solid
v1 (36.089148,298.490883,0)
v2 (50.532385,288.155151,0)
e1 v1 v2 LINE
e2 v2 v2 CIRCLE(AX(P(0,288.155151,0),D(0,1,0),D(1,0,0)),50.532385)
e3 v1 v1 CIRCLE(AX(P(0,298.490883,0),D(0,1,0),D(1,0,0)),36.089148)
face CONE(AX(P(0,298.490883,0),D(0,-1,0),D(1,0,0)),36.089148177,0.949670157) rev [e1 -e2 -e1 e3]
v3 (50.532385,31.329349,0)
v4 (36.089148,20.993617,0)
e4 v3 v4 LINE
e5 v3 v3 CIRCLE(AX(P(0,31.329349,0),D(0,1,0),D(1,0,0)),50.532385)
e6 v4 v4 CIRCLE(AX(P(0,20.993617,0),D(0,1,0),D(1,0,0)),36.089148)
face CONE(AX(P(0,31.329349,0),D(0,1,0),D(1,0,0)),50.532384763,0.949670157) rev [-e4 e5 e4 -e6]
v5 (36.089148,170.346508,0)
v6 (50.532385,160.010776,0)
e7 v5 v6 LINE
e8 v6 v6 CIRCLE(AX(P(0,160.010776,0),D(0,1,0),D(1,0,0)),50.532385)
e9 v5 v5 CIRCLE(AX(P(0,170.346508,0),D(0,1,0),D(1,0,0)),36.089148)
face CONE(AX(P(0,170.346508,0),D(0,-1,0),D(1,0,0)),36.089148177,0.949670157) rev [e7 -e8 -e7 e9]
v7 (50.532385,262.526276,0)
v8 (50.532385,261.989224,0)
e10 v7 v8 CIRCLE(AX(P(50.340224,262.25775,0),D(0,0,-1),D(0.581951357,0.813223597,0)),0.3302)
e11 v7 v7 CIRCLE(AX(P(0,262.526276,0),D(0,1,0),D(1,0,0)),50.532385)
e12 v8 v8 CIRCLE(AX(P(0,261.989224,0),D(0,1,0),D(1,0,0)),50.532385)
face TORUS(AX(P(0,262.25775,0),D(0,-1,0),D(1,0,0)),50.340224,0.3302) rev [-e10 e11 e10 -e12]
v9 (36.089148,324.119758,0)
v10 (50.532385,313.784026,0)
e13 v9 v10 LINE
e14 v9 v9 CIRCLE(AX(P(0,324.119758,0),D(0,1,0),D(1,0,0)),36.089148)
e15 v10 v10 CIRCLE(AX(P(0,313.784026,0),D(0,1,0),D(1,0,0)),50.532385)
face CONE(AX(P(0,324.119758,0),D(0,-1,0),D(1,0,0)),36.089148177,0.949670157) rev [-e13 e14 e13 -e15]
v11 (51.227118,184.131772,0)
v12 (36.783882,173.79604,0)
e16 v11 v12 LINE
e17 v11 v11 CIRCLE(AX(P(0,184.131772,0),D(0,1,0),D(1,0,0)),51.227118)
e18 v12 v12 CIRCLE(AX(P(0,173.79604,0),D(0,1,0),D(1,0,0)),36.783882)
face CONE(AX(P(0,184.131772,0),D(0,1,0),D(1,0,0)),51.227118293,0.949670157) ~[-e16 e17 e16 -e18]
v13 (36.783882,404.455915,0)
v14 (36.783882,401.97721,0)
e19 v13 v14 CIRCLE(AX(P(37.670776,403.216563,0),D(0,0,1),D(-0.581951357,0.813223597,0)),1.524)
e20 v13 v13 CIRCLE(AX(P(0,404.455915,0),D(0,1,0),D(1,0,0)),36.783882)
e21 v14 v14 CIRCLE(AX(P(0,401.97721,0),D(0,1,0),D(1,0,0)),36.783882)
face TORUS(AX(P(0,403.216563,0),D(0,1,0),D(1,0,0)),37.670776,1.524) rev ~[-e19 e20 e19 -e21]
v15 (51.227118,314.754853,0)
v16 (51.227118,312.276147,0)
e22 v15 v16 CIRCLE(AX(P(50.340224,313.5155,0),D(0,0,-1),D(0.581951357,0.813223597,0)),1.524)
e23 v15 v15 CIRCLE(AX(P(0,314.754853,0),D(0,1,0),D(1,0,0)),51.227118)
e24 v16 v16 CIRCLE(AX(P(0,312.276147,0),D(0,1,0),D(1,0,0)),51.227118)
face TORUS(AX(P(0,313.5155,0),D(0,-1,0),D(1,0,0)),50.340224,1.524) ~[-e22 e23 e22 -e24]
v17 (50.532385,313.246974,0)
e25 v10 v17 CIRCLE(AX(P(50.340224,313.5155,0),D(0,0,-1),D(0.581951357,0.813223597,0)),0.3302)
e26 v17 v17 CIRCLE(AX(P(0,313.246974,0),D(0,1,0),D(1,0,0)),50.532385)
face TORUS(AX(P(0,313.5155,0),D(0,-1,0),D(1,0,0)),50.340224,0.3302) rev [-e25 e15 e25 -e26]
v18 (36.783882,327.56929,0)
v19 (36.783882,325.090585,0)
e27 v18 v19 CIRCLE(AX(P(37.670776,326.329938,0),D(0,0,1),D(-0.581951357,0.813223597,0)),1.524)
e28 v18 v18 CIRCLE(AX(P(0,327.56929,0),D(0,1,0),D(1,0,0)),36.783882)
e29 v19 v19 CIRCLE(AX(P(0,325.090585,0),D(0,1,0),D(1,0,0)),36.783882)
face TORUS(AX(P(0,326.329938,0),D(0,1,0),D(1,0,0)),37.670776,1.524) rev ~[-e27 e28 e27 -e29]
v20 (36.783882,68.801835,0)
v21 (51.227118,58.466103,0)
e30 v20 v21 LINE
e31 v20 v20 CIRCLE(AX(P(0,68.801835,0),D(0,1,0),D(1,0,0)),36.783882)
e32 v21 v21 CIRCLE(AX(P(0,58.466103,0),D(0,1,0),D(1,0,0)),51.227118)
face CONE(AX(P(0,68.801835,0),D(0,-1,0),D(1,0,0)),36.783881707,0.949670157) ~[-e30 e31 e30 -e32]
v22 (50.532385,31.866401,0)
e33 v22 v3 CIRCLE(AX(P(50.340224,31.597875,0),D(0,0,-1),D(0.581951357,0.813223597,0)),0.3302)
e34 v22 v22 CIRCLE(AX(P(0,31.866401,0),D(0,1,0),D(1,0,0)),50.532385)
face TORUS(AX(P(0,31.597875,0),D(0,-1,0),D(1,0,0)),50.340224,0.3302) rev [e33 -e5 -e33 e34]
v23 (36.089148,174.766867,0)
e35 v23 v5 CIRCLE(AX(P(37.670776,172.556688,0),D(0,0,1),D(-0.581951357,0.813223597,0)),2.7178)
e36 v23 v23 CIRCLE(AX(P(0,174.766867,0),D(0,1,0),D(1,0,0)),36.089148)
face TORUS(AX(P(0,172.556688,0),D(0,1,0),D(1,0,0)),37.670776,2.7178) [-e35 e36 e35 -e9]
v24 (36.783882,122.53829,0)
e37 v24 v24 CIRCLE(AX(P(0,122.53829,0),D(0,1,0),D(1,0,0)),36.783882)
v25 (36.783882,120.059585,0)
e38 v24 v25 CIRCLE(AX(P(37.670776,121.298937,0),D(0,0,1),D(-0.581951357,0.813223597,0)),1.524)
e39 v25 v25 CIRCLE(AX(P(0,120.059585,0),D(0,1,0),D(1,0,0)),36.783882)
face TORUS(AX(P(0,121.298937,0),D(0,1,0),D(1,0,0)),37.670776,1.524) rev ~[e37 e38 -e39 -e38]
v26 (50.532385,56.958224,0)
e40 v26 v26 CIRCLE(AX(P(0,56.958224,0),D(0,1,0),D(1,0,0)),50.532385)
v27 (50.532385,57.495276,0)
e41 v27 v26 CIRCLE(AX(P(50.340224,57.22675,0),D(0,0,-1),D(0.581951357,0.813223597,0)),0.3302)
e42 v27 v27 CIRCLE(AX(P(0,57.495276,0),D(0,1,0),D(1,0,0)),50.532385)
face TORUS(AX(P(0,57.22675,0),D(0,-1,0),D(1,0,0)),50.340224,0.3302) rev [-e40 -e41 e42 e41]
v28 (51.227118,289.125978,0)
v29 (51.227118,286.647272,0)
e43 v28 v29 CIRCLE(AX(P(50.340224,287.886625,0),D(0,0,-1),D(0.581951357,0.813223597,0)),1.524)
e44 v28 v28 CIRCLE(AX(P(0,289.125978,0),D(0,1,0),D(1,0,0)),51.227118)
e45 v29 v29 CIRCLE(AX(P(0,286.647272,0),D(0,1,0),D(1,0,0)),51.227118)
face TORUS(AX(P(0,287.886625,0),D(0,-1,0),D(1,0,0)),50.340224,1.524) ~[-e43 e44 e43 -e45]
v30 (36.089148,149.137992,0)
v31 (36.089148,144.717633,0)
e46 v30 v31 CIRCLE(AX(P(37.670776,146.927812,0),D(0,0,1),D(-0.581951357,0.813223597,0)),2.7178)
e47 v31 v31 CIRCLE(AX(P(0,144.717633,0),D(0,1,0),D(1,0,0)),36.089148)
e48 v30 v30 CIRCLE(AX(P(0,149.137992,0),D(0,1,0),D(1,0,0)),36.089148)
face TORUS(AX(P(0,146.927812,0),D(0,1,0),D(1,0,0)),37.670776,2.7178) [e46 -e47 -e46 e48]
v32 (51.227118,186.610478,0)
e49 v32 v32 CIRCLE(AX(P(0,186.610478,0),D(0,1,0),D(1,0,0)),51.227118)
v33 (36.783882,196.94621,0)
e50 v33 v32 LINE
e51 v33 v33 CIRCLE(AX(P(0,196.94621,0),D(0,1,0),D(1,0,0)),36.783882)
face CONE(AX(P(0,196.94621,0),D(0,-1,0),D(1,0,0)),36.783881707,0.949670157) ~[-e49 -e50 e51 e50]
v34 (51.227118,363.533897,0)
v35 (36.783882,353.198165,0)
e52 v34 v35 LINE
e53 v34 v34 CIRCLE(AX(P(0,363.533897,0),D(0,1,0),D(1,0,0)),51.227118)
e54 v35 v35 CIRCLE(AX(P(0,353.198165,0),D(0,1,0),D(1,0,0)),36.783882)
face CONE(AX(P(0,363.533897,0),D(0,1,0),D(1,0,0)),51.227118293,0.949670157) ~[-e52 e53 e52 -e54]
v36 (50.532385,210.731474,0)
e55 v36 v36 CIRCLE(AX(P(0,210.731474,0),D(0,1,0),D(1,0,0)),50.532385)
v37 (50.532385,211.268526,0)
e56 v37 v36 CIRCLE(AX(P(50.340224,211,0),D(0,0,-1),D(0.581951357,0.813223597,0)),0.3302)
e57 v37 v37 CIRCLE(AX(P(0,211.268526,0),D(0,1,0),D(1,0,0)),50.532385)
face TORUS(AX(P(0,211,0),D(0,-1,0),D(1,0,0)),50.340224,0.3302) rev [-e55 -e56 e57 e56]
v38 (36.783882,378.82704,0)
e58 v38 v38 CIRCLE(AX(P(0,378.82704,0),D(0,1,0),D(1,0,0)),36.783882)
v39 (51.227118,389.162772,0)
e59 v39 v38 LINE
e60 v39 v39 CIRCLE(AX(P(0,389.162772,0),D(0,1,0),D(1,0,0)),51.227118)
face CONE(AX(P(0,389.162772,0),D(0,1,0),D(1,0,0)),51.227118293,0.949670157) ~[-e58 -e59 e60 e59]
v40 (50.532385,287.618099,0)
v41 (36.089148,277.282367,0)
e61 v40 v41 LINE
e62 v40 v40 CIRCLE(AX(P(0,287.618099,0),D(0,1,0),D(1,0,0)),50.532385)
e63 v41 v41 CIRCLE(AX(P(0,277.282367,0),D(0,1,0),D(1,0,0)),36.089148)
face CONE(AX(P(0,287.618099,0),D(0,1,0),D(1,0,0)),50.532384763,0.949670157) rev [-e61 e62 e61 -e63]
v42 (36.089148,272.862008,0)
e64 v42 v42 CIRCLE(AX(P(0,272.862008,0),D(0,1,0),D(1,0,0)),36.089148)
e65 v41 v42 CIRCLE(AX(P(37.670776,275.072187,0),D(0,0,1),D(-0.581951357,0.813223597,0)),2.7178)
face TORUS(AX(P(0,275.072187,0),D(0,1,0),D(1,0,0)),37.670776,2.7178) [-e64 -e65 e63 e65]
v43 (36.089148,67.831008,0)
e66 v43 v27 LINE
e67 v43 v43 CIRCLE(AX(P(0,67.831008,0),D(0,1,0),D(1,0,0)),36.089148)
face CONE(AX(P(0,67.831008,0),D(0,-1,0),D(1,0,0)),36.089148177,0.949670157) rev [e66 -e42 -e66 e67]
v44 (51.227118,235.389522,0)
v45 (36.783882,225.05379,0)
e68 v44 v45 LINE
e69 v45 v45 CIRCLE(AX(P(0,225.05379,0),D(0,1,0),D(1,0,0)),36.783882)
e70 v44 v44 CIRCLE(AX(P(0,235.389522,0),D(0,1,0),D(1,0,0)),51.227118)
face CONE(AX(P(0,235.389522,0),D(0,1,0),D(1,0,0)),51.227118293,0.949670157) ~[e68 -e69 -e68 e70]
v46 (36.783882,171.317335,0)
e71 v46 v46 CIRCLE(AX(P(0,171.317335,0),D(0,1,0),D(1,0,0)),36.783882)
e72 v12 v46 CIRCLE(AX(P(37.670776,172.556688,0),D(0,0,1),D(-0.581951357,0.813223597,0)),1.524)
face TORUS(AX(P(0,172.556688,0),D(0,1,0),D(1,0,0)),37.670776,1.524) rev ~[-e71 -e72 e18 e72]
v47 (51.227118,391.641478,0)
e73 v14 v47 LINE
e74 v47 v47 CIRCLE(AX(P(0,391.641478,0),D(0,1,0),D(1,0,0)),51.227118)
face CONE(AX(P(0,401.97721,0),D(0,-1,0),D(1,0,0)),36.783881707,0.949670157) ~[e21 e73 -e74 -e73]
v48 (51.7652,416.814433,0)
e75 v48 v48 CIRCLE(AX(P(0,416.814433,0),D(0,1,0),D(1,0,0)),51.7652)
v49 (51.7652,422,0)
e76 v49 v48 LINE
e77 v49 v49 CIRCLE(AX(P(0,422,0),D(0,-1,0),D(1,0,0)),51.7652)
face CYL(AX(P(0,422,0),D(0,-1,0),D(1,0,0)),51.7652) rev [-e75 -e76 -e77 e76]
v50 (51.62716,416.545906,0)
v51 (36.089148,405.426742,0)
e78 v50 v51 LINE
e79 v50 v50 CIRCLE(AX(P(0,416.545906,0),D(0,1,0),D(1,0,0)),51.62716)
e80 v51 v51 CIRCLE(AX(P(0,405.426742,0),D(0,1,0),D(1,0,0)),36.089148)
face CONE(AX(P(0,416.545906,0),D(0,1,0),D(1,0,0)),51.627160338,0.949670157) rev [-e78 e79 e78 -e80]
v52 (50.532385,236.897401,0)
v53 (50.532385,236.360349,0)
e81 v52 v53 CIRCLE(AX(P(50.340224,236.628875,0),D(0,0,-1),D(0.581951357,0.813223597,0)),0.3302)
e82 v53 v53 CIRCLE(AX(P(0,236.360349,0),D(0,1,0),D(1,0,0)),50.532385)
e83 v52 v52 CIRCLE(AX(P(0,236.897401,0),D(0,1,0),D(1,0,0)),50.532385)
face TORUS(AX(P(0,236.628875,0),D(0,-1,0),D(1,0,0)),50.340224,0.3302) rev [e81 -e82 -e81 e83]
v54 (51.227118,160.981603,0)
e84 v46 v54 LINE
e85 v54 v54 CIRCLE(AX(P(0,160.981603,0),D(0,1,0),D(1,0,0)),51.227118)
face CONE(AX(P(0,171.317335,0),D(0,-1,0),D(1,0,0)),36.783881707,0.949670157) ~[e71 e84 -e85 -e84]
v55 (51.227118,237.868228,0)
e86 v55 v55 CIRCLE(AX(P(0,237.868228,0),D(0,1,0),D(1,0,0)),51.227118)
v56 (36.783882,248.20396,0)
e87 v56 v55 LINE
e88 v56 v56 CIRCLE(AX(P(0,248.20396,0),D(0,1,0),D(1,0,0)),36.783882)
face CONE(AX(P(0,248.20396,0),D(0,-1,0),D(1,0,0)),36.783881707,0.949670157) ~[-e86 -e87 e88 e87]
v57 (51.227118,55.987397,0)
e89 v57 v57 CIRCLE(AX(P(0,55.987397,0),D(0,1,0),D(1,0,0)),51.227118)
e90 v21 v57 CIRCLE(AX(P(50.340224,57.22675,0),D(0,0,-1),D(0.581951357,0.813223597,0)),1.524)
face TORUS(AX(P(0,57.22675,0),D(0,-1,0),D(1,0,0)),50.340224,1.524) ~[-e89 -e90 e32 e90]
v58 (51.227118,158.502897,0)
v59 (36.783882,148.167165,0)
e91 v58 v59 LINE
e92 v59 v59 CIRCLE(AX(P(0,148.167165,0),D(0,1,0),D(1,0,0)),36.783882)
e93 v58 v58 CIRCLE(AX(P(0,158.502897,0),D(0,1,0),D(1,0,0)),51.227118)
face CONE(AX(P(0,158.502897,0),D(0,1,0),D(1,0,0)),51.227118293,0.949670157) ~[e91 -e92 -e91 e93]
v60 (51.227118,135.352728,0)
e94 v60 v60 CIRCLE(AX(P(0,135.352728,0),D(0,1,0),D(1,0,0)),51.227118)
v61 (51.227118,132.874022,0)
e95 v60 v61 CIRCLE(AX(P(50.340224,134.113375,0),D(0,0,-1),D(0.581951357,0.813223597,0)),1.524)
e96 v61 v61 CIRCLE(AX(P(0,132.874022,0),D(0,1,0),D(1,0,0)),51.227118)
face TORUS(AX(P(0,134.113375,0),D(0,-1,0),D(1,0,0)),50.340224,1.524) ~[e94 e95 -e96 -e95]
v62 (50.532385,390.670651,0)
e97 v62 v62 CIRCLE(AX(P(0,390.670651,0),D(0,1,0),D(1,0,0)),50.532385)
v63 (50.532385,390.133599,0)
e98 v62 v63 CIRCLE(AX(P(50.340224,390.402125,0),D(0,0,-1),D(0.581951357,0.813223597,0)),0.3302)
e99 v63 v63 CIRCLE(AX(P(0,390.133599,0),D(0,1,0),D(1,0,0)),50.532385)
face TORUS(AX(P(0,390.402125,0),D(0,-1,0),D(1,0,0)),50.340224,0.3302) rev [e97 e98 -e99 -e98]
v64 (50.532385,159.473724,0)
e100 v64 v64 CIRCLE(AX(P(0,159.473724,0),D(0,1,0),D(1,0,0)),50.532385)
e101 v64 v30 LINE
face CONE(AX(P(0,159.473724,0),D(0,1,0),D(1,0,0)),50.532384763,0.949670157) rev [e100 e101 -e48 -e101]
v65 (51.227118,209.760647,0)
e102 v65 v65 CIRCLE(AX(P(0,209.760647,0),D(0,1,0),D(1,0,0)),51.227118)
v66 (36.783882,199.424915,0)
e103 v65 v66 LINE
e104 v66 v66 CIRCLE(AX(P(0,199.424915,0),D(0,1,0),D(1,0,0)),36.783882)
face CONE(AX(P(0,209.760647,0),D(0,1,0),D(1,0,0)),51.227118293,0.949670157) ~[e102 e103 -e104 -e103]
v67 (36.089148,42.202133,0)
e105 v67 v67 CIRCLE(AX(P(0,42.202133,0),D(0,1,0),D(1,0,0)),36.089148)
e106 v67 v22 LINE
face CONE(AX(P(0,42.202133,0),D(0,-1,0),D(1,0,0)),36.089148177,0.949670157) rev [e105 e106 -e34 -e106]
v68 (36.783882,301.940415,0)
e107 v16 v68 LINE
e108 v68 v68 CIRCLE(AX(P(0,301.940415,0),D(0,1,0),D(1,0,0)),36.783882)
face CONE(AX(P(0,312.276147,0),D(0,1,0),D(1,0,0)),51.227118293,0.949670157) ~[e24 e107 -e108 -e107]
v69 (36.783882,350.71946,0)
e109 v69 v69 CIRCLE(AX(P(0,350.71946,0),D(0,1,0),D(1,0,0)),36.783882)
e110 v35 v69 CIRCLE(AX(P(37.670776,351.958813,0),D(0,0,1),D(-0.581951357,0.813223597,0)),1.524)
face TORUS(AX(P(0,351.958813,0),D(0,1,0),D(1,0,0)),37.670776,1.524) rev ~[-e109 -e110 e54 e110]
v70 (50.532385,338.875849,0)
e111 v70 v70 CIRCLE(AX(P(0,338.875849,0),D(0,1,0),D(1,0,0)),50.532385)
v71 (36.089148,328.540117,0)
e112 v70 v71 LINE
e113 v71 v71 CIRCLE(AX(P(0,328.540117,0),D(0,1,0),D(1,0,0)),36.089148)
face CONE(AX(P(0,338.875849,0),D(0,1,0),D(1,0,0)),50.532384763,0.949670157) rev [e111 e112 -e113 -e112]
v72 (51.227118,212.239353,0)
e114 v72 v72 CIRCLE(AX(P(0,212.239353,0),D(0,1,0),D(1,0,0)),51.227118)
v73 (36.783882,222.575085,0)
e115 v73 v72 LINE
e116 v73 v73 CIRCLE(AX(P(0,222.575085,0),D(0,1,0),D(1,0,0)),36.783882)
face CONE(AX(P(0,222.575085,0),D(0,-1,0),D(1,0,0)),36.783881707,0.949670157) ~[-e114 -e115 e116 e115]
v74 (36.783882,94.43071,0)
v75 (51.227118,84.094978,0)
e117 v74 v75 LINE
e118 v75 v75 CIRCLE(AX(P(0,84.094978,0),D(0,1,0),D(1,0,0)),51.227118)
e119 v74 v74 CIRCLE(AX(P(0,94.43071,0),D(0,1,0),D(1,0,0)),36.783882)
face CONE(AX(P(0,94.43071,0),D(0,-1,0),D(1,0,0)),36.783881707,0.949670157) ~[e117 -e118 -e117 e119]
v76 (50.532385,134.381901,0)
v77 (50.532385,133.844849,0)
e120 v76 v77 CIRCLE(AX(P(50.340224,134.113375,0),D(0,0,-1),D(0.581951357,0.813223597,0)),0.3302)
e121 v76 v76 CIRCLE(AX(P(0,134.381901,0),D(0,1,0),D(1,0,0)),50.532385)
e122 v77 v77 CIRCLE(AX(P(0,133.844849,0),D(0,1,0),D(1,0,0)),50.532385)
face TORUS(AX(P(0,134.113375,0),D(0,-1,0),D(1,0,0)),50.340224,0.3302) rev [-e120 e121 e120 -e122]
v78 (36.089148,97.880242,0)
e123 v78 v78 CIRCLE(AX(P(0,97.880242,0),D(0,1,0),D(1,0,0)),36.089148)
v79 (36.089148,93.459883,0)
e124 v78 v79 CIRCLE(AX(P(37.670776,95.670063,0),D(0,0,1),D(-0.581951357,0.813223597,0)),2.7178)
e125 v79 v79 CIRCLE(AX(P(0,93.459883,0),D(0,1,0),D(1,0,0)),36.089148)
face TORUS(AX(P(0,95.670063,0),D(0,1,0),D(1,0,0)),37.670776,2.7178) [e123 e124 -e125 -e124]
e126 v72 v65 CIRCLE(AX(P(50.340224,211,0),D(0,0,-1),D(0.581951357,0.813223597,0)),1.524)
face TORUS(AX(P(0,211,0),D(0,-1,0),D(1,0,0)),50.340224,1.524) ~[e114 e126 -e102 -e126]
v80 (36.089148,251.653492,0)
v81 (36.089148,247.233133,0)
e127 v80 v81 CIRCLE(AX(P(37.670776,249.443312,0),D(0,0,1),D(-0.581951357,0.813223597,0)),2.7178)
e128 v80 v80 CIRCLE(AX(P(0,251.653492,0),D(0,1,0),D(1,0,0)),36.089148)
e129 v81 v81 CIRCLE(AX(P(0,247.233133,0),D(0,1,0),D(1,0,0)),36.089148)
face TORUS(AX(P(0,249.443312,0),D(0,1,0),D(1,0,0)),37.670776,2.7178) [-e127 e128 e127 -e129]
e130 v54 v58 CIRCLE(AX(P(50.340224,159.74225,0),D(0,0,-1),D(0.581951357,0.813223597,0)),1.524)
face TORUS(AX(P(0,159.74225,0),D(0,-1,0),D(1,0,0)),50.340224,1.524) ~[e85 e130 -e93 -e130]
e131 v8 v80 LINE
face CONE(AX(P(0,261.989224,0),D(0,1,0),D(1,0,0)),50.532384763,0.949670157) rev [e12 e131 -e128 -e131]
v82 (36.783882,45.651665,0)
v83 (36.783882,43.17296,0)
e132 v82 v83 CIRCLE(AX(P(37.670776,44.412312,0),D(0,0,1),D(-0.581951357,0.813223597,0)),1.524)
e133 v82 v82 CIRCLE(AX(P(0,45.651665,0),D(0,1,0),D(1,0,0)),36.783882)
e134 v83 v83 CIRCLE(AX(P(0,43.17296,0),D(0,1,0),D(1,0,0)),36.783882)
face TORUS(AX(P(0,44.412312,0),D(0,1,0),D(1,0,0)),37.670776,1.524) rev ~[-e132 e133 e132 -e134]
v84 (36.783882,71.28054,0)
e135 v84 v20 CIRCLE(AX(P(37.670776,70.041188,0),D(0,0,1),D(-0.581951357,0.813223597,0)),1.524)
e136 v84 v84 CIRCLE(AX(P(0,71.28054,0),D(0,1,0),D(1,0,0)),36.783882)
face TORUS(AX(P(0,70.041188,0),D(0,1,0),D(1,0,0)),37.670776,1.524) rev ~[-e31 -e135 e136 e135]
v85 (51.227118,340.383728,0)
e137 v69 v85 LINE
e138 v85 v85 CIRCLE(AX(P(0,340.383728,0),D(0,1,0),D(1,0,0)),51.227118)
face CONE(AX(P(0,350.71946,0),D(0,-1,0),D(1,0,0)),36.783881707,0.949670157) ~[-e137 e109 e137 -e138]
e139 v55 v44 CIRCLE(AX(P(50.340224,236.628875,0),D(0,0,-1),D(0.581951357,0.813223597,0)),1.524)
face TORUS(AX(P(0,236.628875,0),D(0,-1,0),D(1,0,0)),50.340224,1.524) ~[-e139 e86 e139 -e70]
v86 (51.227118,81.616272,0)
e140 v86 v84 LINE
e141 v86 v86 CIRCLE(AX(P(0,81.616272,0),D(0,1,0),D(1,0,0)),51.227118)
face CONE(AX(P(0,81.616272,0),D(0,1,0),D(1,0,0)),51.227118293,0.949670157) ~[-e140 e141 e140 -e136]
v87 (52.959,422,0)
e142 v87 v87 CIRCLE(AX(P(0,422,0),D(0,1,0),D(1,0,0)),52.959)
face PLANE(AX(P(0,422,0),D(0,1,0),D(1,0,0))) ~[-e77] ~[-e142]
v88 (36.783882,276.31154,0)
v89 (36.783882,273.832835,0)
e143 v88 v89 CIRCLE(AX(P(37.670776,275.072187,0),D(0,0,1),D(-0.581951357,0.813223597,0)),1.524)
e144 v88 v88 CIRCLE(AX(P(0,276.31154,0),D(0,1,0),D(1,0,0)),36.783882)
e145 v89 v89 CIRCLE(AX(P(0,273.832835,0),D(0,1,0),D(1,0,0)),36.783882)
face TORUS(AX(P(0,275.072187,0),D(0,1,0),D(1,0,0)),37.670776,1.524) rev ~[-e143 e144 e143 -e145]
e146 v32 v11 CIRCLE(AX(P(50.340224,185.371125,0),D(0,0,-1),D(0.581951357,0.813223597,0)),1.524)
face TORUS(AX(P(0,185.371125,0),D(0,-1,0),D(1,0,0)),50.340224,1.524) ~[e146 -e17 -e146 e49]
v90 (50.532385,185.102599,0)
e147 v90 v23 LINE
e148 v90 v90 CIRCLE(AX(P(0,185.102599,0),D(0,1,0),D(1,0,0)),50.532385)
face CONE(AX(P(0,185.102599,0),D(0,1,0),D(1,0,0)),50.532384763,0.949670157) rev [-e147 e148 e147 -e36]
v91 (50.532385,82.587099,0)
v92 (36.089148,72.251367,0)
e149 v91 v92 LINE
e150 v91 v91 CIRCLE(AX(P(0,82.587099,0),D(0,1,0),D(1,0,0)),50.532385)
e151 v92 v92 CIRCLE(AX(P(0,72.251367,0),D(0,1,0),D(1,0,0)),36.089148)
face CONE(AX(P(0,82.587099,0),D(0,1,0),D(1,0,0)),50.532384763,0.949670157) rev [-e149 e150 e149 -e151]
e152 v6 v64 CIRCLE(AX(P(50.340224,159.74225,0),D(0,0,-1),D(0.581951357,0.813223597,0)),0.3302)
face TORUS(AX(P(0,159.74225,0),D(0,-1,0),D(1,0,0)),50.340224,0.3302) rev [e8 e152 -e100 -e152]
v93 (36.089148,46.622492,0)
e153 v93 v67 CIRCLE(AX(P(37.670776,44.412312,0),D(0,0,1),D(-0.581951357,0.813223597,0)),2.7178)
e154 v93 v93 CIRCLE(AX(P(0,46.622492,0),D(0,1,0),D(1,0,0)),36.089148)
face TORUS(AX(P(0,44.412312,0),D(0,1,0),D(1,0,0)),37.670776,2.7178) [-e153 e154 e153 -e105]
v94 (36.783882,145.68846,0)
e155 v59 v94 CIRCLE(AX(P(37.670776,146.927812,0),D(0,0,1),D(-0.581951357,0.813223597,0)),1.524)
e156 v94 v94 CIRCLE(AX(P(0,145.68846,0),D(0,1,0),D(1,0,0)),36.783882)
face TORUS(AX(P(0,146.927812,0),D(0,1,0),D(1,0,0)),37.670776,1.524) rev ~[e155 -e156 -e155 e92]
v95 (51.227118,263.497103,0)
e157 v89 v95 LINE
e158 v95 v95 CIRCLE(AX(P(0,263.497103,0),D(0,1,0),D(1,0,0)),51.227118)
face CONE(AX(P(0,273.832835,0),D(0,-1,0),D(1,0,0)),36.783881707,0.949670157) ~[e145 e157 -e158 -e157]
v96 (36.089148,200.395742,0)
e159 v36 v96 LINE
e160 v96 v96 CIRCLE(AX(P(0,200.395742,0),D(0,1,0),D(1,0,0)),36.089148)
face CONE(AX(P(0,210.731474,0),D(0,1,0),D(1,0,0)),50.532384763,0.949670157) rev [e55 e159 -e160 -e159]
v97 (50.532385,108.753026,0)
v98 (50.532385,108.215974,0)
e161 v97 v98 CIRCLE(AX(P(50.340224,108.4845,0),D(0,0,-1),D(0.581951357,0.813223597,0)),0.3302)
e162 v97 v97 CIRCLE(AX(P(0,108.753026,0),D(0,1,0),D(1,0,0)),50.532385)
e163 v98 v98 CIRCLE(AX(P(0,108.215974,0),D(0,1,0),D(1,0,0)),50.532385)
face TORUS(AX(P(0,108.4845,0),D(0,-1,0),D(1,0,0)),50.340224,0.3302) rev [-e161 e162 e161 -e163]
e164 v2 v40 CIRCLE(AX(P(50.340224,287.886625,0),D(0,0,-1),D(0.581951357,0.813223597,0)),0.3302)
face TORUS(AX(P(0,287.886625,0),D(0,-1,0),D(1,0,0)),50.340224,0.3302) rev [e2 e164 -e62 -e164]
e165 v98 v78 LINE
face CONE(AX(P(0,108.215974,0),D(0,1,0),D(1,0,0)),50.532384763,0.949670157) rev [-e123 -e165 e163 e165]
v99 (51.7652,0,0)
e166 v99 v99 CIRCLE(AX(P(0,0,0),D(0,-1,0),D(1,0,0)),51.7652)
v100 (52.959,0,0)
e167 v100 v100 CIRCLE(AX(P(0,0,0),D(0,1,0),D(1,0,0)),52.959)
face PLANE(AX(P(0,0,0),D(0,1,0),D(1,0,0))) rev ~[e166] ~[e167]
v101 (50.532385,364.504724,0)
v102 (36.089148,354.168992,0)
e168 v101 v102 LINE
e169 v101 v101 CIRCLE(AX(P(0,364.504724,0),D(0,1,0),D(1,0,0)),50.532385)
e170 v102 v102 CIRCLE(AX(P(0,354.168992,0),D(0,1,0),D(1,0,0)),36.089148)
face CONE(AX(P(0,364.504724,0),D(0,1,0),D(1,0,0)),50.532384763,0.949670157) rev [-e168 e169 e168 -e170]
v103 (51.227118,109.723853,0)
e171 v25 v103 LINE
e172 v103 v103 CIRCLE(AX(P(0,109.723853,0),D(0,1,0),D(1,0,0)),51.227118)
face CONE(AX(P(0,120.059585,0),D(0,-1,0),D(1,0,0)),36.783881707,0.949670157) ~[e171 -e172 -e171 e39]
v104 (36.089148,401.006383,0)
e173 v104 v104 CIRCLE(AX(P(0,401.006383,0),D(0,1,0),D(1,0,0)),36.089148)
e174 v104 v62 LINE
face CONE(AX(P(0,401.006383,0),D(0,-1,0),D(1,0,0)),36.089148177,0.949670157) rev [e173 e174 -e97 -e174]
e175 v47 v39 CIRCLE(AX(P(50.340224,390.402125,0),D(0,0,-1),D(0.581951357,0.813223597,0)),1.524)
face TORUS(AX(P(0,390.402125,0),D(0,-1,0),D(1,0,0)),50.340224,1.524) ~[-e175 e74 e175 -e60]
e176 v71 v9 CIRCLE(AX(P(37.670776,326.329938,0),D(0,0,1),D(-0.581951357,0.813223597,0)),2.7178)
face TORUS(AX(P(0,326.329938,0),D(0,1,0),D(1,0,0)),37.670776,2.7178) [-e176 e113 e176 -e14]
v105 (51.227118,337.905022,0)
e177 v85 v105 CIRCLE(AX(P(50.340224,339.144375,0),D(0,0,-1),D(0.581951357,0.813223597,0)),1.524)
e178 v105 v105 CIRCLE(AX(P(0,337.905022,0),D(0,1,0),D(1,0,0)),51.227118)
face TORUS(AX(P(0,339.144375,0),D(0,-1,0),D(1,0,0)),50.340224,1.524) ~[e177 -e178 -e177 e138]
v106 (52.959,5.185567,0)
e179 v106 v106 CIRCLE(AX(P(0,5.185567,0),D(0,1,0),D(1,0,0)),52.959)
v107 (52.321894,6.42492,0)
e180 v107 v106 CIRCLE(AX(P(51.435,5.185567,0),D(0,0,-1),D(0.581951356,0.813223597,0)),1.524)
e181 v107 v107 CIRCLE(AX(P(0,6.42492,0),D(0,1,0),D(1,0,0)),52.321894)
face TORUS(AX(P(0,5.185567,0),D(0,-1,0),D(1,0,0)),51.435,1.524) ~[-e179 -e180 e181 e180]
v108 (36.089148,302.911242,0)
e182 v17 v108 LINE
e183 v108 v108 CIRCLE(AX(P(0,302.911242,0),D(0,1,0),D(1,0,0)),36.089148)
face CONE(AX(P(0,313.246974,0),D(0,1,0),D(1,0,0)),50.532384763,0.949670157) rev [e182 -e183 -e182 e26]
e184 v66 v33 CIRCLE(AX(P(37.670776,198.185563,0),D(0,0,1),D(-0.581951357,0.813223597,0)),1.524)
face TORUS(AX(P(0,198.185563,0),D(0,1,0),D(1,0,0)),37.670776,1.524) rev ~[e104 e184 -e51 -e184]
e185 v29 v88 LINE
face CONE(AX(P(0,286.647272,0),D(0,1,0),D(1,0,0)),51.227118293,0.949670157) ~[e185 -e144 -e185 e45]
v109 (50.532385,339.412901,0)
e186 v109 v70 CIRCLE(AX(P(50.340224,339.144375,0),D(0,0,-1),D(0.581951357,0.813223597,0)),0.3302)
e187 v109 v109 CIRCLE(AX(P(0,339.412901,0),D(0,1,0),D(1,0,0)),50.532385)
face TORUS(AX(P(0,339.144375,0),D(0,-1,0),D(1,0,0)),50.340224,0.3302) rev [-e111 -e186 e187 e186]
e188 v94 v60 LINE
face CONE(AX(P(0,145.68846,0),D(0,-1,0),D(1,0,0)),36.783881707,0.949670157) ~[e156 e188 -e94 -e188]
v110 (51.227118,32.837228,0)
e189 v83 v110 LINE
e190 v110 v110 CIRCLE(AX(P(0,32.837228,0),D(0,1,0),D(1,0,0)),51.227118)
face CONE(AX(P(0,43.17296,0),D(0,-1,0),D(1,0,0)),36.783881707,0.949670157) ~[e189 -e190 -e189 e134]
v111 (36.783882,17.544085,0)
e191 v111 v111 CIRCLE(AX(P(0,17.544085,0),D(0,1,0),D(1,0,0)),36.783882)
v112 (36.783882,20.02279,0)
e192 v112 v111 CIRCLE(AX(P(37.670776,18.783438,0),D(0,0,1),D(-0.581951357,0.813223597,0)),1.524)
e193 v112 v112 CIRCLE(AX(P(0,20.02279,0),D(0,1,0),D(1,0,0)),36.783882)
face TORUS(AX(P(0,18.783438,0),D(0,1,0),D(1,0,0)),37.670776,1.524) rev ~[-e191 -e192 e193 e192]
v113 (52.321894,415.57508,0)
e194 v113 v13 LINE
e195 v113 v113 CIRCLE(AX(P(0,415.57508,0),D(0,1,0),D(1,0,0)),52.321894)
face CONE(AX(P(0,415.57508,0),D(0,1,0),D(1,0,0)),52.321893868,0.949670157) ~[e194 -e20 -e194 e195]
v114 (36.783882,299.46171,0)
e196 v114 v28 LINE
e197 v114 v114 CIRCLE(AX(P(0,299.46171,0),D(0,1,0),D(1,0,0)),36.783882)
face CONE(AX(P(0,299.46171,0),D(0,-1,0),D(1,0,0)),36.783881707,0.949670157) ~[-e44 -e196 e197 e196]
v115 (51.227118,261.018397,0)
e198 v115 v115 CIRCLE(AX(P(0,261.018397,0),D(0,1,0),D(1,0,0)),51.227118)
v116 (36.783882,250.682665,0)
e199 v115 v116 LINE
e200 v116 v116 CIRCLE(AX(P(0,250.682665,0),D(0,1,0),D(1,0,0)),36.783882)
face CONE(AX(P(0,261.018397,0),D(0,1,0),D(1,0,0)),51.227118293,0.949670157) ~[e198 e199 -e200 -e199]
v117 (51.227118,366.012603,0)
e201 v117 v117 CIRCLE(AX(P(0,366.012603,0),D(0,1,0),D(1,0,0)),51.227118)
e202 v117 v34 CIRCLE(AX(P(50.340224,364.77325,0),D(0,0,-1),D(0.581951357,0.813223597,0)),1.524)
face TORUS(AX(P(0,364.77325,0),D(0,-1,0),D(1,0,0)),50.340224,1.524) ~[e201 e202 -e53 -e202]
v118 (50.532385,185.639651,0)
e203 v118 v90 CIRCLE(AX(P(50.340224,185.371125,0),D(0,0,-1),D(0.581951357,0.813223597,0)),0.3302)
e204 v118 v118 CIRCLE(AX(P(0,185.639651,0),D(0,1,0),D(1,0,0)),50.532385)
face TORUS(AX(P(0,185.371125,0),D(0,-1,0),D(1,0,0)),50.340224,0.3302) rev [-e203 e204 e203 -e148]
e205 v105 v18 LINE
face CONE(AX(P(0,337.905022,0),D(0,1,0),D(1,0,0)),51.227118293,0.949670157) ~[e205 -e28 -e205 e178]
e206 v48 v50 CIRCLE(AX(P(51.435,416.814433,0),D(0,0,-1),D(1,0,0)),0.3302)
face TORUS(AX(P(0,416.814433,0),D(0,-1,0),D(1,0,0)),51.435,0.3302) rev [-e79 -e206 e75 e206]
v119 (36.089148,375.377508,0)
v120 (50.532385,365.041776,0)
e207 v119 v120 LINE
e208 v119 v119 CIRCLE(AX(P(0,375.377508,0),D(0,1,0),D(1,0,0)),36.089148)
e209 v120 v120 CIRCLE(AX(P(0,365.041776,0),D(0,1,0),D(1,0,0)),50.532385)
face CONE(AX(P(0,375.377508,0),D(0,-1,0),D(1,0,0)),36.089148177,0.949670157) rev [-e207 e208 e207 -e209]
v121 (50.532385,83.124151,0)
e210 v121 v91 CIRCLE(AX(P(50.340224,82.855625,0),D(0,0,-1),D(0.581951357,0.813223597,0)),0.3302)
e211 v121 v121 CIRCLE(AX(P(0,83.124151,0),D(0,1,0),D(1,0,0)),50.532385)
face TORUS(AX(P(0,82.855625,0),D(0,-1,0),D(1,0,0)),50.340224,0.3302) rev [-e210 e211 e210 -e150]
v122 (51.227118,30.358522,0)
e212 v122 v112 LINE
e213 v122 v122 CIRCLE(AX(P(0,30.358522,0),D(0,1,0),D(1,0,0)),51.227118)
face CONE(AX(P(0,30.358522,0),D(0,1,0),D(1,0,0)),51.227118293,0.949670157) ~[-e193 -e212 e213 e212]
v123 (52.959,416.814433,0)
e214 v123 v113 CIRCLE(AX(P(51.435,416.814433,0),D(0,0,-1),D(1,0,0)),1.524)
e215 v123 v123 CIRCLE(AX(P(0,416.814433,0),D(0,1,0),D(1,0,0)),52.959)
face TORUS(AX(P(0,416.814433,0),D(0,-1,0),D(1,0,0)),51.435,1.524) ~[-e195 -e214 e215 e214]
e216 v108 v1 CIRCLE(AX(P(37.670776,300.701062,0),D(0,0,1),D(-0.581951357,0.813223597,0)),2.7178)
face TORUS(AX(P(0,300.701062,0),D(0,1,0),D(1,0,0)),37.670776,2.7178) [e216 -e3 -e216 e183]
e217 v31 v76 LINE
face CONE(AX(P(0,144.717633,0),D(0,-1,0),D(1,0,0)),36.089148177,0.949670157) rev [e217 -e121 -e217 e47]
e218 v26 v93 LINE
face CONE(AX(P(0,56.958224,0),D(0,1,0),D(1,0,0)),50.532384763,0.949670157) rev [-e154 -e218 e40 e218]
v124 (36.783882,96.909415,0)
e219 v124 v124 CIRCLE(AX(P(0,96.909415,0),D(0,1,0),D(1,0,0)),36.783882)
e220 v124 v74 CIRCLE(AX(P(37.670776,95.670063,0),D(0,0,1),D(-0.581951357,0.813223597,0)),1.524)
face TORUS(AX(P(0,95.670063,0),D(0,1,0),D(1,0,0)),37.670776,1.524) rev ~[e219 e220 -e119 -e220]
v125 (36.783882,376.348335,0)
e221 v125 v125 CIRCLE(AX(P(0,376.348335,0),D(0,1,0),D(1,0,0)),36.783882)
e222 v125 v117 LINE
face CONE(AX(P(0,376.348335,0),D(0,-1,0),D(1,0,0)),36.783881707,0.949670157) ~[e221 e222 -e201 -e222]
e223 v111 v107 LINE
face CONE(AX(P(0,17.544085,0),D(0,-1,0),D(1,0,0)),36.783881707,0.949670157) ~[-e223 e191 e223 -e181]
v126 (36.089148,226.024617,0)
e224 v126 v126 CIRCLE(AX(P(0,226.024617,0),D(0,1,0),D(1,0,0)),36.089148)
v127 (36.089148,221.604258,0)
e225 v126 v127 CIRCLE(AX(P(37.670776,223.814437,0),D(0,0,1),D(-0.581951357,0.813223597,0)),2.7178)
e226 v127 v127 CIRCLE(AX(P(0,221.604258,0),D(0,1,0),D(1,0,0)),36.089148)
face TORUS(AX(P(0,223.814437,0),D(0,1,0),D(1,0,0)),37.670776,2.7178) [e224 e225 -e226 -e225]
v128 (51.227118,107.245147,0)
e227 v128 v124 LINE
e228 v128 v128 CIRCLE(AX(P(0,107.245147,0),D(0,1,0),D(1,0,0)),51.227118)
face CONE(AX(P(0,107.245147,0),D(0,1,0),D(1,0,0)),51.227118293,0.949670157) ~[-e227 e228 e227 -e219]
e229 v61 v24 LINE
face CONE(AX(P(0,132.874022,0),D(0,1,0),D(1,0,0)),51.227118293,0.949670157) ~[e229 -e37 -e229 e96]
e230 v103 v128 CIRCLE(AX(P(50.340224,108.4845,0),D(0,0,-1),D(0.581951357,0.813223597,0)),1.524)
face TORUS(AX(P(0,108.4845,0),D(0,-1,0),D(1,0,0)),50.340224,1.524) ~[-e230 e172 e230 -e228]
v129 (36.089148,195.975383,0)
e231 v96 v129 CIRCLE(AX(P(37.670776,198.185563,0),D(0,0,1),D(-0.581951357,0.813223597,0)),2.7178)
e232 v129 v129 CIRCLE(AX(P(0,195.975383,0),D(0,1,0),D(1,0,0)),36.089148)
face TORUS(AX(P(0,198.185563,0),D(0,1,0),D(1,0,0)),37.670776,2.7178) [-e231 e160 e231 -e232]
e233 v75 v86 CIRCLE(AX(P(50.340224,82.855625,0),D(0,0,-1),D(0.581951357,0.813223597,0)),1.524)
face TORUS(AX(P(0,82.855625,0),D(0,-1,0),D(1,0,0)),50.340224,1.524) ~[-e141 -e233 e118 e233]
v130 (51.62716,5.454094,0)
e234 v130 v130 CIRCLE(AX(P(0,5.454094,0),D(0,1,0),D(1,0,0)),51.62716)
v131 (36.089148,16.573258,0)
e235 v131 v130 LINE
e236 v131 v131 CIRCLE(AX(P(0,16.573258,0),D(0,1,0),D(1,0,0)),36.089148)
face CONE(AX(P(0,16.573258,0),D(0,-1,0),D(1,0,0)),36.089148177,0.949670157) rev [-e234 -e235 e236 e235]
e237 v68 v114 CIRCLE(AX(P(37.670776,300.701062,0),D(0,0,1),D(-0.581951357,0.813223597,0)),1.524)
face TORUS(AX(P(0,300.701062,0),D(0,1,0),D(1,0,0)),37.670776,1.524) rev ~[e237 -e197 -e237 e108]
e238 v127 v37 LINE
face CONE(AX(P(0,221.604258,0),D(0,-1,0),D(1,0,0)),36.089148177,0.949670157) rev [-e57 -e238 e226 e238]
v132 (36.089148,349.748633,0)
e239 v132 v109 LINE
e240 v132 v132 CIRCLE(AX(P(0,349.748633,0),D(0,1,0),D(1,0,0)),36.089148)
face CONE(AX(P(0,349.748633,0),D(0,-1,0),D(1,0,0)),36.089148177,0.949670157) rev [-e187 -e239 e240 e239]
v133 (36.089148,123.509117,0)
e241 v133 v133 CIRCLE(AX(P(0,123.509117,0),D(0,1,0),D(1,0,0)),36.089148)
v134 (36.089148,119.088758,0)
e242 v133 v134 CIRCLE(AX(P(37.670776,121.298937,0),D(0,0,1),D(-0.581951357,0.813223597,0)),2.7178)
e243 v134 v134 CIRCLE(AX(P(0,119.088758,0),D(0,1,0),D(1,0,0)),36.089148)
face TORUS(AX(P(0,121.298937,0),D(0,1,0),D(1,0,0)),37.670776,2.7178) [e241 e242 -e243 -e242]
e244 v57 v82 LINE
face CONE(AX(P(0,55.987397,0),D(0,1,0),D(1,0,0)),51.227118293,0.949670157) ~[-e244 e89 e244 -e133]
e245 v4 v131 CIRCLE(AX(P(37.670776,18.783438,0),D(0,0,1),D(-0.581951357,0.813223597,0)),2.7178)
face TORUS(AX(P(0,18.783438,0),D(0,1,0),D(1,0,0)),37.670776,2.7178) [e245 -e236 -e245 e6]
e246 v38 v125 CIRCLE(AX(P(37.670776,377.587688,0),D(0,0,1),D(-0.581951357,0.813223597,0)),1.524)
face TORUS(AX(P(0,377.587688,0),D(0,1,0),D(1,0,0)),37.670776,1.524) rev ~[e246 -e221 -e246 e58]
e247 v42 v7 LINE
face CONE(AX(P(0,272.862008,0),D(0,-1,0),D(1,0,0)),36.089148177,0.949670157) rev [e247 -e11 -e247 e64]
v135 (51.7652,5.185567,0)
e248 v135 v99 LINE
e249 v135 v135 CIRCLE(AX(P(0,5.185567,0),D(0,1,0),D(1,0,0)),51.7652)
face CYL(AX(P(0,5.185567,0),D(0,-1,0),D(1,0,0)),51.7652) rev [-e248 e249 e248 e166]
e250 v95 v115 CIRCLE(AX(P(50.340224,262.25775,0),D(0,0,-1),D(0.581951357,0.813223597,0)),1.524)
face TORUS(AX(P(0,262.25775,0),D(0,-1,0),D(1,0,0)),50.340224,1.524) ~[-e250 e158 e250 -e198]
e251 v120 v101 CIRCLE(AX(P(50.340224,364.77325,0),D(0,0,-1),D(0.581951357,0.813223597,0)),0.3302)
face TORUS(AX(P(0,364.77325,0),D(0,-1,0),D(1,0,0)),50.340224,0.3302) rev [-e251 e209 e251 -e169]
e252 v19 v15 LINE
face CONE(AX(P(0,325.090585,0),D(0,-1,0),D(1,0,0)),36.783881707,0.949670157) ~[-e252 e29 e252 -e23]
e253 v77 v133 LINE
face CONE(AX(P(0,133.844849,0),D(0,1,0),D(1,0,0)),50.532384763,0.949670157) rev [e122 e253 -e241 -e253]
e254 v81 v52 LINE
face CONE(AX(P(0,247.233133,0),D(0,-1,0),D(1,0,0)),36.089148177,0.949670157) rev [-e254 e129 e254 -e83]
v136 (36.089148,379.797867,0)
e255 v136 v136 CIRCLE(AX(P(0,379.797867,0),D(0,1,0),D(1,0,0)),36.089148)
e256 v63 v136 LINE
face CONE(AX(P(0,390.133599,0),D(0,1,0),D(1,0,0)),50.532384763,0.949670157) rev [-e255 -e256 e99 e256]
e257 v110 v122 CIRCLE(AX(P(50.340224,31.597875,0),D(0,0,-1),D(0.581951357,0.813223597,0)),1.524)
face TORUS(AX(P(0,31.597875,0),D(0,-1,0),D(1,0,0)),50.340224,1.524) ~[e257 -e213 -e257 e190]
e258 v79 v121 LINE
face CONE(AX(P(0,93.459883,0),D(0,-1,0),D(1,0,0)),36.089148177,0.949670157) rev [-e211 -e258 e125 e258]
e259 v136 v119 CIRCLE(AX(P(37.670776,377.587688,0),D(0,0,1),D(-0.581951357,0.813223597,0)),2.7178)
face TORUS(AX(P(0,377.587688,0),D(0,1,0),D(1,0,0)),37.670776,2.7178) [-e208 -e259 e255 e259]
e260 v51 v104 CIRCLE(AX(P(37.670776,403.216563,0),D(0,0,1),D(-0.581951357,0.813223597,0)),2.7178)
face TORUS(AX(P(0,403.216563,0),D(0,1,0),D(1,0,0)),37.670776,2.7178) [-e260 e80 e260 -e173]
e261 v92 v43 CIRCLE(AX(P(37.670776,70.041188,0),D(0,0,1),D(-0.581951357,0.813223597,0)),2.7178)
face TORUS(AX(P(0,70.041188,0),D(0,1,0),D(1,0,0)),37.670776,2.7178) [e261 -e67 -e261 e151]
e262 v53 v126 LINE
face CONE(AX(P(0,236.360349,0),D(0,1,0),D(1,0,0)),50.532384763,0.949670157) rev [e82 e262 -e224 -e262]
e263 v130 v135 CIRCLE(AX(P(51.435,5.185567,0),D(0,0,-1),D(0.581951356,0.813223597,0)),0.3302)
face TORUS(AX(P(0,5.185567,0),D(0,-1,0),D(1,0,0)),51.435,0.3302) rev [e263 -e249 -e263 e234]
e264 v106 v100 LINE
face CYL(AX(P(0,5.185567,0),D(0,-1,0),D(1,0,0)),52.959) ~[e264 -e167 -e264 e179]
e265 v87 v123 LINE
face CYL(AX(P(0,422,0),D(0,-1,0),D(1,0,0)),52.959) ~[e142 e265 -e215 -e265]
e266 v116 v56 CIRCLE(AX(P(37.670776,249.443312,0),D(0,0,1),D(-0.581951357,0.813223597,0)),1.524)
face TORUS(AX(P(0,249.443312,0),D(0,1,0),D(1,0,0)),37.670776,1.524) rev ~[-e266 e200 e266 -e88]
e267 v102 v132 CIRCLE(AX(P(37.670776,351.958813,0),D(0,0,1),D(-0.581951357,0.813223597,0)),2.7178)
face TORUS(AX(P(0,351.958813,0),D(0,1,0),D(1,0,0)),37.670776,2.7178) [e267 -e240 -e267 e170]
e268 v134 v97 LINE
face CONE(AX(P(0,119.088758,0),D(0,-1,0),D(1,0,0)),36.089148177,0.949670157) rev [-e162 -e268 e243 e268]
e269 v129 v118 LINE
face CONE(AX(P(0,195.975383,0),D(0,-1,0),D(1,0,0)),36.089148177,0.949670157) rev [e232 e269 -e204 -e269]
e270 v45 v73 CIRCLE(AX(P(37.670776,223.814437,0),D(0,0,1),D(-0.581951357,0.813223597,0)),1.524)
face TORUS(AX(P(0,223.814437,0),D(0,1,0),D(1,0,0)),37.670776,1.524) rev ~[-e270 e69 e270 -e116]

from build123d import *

# Parameters (mm, degrees)
SHELL1_T = -1.1938


with BuildPart() as part:
    # Sketch1 → Revolve2 (revolve)
    with BuildSketch(Plane.XY):
        with BuildLine():
            Line((0, 0), (0, 422))
            Line((0, 422), (52.959, 422))
            Line((52.959, 422), (52.959, 416.814432914))
            ThreePointArc((52.959, 416.814432914), (52.790397037, 416.117672645), (52.321893868, 415.575080153))
            Line((52.321893868, 415.575080153), (36.783881707, 404.455915261))
            ThreePointArc((36.783881707, 404.455915261), (36.146775575, 403.2165625), (36.783881707, 401.977209739))
            Line((36.783881707, 401.977209739), (51.227118293, 391.641477761))
            ThreePointArc((51.227118293, 391.641477761), (51.864224425, 390.402125), (51.227118293, 389.162772239))
            Line((51.227118293, 389.162772239), (36.783881707, 378.827040261))
            ThreePointArc((36.783881707, 378.827040261), (36.146775575, 377.5876875), (36.783881707, 376.348334739))
            Line((36.783881707, 376.348334739), (51.227118293, 366.012602761))
            ThreePointArc((51.227118293, 366.012602761), (51.864224425, 364.77325), (51.227118293, 363.533897239))
            Line((51.227118293, 363.533897239), (36.783881707, 353.198165261))
            ThreePointArc((36.783881707, 353.198165261), (36.146775575, 351.9588125), (36.783881707, 350.719459739))
            Line((36.783881707, 350.719459739), (51.227118293, 340.383727761))
            ThreePointArc((51.227118293, 340.383727761), (51.864224425, 339.144375), (51.227118293, 337.905022239))
            Line((51.227118293, 337.905022239), (36.783881707, 327.569290261))
            ThreePointArc((36.783881707, 327.569290261), (36.146775575, 326.3299375), (36.783881707, 325.090584739))
            Line((36.783881707, 325.090584739), (51.227118293, 314.754852761))
            ThreePointArc((51.227118293, 314.754852761), (51.864224425, 313.5155), (51.227118293, 312.276147239))
            Line((51.227118293, 312.276147239), (36.783881707, 301.940415261))
            ThreePointArc((36.783881707, 301.940415261), (36.146775575, 300.7010625), (36.783881707, 299.461709739))
            Line((36.783881707, 299.461709739), (51.227118293, 289.125977761))
            ThreePointArc((51.227118293, 289.125977761), (51.864224425, 287.886625), (51.227118293, 286.647272239))
            Line((51.227118293, 286.647272239), (36.783881707, 276.311540261))
            ThreePointArc((36.783881707, 276.311540261), (36.146775575, 275.0721875), (36.783881707, 273.832834739))
            Line((36.783881707, 273.832834739), (51.227118293, 263.497102761))
            ThreePointArc((51.227118293, 263.497102761), (51.864224425, 262.25775), (51.227118293, 261.018397239))
            Line((51.227118293, 261.018397239), (36.783881707, 250.682665261))
            ThreePointArc((36.783881707, 250.682665261), (36.146775575, 249.4433125), (36.783881707, 248.203959739))
            Line((36.783881707, 248.203959739), (51.227118293, 237.868227761))
            ThreePointArc((51.227118293, 237.868227761), (51.864224425, 236.628875), (51.227118293, 235.389522239))
            Line((51.227118293, 235.389522239), (36.783881707, 225.053790261))
            ThreePointArc((36.783881707, 225.053790261), (36.146775575, 223.8144375), (36.783881707, 222.575084739))
            Line((36.783881707, 222.575084739), (51.227118293, 212.239352761))
            ThreePointArc((51.227118293, 212.239352761), (51.864224425, 211), (51.227118293, 209.760647239))
            Line((51.227118293, 209.760647239), (36.783881707, 199.424915261))
            ThreePointArc((36.783881707, 199.424915261), (36.146775575, 198.1855625), (36.783881707, 196.946209739))
            Line((36.783881707, 196.946209739), (51.227118293, 186.610477761))
            ThreePointArc((51.227118293, 186.610477761), (51.864224425, 185.371125), (51.227118293, 184.131772239))
            Line((51.227118293, 184.131772239), (36.783881707, 173.796040261))
            ThreePointArc((36.783881707, 173.796040261), (36.146775575, 172.5566875), (36.783881707, 171.317334739))
            Line((36.783881707, 171.317334739), (51.227118293, 160.981602761))
            ThreePointArc((51.227118293, 160.981602761), (51.864224425, 159.74225), (51.227118293, 158.502897239))
            Line((51.227118293, 158.502897239), (36.783881707, 148.167165261))
            ThreePointArc((36.783881707, 148.167165261), (36.146775575, 146.9278125), (36.783881707, 145.688459739))
            Line((36.783881707, 145.688459739), (51.227118293, 135.352727761))
            ThreePointArc((51.227118293, 135.352727761), (51.864224425, 134.113375), (51.227118293, 132.874022239))
            Line((51.227118293, 132.874022239), (36.783881707, 122.538290261))
            ThreePointArc((36.783881707, 122.538290261), (36.146775575, 121.2989375), (36.783881707, 120.059584739))
            Line((36.783881707, 120.059584739), (51.227118293, 109.723852761))
            ThreePointArc((51.227118293, 109.723852761), (51.864224425, 108.4845), (51.227118293, 107.245147239))
            Line((51.227118293, 107.245147239), (36.783881707, 96.909415261))
            ThreePointArc((36.783881707, 96.909415261), (36.146775575, 95.6700625), (36.783881707, 94.430709739))
            Line((36.783881707, 94.430709739), (51.227118293, 84.094977761))
            ThreePointArc((51.227118293, 84.094977761), (51.864224425, 82.855625), (51.227118293, 81.616272239))
            Line((51.227118293, 81.616272239), (36.783881707, 71.280540261))
            ThreePointArc((36.783881707, 71.280540261), (36.146775575, 70.0411875), (36.783881707, 68.801834739))
            Line((36.783881707, 68.801834739), (51.227118293, 58.466102761))
            ThreePointArc((51.227118293, 58.466102761), (51.864224425, 57.22675), (51.227118293, 55.987397239))
            Line((51.227118293, 55.987397239), (36.783881707, 45.651665261))
            ThreePointArc((36.783881707, 45.651665261), (36.146775575, 44.4123125), (36.783881707, 43.172959739))
            Line((36.783881707, 43.172959739), (51.227118293, 32.837227761))
            ThreePointArc((51.227118293, 32.837227761), (51.864224425, 31.597875), (51.227118293, 30.358522239))
            Line((51.227118293, 30.358522239), (36.783881707, 20.022790261))
            ThreePointArc((36.783881707, 20.022790261), (36.146775575, 18.7834375), (36.783881707, 17.544084739))
            Line((36.783881707, 17.544084739), (52.321893868, 6.424919847))
            ThreePointArc((52.321893868, 6.424919847), (52.790397037, 5.882327355), (52.959, 5.185567086))
            Line((52.959, 5.185567086), (52.959, 0))
            Line((52.959, 0), (0, 0))
        make_face()
    revolve(axis=Axis((0, 0, 0), (0, 1, 0)))

    # Shell1
    shell1_openings = [part.faces().sort_by_distance(p)[0] for p in [
        (0, 422, 0),
        (0, 0, 0),
    ]]
    offset(amount=SHELL1_T, openings=shell1_openings, kind=Kind.INTERSECTION)


solid = part.part
